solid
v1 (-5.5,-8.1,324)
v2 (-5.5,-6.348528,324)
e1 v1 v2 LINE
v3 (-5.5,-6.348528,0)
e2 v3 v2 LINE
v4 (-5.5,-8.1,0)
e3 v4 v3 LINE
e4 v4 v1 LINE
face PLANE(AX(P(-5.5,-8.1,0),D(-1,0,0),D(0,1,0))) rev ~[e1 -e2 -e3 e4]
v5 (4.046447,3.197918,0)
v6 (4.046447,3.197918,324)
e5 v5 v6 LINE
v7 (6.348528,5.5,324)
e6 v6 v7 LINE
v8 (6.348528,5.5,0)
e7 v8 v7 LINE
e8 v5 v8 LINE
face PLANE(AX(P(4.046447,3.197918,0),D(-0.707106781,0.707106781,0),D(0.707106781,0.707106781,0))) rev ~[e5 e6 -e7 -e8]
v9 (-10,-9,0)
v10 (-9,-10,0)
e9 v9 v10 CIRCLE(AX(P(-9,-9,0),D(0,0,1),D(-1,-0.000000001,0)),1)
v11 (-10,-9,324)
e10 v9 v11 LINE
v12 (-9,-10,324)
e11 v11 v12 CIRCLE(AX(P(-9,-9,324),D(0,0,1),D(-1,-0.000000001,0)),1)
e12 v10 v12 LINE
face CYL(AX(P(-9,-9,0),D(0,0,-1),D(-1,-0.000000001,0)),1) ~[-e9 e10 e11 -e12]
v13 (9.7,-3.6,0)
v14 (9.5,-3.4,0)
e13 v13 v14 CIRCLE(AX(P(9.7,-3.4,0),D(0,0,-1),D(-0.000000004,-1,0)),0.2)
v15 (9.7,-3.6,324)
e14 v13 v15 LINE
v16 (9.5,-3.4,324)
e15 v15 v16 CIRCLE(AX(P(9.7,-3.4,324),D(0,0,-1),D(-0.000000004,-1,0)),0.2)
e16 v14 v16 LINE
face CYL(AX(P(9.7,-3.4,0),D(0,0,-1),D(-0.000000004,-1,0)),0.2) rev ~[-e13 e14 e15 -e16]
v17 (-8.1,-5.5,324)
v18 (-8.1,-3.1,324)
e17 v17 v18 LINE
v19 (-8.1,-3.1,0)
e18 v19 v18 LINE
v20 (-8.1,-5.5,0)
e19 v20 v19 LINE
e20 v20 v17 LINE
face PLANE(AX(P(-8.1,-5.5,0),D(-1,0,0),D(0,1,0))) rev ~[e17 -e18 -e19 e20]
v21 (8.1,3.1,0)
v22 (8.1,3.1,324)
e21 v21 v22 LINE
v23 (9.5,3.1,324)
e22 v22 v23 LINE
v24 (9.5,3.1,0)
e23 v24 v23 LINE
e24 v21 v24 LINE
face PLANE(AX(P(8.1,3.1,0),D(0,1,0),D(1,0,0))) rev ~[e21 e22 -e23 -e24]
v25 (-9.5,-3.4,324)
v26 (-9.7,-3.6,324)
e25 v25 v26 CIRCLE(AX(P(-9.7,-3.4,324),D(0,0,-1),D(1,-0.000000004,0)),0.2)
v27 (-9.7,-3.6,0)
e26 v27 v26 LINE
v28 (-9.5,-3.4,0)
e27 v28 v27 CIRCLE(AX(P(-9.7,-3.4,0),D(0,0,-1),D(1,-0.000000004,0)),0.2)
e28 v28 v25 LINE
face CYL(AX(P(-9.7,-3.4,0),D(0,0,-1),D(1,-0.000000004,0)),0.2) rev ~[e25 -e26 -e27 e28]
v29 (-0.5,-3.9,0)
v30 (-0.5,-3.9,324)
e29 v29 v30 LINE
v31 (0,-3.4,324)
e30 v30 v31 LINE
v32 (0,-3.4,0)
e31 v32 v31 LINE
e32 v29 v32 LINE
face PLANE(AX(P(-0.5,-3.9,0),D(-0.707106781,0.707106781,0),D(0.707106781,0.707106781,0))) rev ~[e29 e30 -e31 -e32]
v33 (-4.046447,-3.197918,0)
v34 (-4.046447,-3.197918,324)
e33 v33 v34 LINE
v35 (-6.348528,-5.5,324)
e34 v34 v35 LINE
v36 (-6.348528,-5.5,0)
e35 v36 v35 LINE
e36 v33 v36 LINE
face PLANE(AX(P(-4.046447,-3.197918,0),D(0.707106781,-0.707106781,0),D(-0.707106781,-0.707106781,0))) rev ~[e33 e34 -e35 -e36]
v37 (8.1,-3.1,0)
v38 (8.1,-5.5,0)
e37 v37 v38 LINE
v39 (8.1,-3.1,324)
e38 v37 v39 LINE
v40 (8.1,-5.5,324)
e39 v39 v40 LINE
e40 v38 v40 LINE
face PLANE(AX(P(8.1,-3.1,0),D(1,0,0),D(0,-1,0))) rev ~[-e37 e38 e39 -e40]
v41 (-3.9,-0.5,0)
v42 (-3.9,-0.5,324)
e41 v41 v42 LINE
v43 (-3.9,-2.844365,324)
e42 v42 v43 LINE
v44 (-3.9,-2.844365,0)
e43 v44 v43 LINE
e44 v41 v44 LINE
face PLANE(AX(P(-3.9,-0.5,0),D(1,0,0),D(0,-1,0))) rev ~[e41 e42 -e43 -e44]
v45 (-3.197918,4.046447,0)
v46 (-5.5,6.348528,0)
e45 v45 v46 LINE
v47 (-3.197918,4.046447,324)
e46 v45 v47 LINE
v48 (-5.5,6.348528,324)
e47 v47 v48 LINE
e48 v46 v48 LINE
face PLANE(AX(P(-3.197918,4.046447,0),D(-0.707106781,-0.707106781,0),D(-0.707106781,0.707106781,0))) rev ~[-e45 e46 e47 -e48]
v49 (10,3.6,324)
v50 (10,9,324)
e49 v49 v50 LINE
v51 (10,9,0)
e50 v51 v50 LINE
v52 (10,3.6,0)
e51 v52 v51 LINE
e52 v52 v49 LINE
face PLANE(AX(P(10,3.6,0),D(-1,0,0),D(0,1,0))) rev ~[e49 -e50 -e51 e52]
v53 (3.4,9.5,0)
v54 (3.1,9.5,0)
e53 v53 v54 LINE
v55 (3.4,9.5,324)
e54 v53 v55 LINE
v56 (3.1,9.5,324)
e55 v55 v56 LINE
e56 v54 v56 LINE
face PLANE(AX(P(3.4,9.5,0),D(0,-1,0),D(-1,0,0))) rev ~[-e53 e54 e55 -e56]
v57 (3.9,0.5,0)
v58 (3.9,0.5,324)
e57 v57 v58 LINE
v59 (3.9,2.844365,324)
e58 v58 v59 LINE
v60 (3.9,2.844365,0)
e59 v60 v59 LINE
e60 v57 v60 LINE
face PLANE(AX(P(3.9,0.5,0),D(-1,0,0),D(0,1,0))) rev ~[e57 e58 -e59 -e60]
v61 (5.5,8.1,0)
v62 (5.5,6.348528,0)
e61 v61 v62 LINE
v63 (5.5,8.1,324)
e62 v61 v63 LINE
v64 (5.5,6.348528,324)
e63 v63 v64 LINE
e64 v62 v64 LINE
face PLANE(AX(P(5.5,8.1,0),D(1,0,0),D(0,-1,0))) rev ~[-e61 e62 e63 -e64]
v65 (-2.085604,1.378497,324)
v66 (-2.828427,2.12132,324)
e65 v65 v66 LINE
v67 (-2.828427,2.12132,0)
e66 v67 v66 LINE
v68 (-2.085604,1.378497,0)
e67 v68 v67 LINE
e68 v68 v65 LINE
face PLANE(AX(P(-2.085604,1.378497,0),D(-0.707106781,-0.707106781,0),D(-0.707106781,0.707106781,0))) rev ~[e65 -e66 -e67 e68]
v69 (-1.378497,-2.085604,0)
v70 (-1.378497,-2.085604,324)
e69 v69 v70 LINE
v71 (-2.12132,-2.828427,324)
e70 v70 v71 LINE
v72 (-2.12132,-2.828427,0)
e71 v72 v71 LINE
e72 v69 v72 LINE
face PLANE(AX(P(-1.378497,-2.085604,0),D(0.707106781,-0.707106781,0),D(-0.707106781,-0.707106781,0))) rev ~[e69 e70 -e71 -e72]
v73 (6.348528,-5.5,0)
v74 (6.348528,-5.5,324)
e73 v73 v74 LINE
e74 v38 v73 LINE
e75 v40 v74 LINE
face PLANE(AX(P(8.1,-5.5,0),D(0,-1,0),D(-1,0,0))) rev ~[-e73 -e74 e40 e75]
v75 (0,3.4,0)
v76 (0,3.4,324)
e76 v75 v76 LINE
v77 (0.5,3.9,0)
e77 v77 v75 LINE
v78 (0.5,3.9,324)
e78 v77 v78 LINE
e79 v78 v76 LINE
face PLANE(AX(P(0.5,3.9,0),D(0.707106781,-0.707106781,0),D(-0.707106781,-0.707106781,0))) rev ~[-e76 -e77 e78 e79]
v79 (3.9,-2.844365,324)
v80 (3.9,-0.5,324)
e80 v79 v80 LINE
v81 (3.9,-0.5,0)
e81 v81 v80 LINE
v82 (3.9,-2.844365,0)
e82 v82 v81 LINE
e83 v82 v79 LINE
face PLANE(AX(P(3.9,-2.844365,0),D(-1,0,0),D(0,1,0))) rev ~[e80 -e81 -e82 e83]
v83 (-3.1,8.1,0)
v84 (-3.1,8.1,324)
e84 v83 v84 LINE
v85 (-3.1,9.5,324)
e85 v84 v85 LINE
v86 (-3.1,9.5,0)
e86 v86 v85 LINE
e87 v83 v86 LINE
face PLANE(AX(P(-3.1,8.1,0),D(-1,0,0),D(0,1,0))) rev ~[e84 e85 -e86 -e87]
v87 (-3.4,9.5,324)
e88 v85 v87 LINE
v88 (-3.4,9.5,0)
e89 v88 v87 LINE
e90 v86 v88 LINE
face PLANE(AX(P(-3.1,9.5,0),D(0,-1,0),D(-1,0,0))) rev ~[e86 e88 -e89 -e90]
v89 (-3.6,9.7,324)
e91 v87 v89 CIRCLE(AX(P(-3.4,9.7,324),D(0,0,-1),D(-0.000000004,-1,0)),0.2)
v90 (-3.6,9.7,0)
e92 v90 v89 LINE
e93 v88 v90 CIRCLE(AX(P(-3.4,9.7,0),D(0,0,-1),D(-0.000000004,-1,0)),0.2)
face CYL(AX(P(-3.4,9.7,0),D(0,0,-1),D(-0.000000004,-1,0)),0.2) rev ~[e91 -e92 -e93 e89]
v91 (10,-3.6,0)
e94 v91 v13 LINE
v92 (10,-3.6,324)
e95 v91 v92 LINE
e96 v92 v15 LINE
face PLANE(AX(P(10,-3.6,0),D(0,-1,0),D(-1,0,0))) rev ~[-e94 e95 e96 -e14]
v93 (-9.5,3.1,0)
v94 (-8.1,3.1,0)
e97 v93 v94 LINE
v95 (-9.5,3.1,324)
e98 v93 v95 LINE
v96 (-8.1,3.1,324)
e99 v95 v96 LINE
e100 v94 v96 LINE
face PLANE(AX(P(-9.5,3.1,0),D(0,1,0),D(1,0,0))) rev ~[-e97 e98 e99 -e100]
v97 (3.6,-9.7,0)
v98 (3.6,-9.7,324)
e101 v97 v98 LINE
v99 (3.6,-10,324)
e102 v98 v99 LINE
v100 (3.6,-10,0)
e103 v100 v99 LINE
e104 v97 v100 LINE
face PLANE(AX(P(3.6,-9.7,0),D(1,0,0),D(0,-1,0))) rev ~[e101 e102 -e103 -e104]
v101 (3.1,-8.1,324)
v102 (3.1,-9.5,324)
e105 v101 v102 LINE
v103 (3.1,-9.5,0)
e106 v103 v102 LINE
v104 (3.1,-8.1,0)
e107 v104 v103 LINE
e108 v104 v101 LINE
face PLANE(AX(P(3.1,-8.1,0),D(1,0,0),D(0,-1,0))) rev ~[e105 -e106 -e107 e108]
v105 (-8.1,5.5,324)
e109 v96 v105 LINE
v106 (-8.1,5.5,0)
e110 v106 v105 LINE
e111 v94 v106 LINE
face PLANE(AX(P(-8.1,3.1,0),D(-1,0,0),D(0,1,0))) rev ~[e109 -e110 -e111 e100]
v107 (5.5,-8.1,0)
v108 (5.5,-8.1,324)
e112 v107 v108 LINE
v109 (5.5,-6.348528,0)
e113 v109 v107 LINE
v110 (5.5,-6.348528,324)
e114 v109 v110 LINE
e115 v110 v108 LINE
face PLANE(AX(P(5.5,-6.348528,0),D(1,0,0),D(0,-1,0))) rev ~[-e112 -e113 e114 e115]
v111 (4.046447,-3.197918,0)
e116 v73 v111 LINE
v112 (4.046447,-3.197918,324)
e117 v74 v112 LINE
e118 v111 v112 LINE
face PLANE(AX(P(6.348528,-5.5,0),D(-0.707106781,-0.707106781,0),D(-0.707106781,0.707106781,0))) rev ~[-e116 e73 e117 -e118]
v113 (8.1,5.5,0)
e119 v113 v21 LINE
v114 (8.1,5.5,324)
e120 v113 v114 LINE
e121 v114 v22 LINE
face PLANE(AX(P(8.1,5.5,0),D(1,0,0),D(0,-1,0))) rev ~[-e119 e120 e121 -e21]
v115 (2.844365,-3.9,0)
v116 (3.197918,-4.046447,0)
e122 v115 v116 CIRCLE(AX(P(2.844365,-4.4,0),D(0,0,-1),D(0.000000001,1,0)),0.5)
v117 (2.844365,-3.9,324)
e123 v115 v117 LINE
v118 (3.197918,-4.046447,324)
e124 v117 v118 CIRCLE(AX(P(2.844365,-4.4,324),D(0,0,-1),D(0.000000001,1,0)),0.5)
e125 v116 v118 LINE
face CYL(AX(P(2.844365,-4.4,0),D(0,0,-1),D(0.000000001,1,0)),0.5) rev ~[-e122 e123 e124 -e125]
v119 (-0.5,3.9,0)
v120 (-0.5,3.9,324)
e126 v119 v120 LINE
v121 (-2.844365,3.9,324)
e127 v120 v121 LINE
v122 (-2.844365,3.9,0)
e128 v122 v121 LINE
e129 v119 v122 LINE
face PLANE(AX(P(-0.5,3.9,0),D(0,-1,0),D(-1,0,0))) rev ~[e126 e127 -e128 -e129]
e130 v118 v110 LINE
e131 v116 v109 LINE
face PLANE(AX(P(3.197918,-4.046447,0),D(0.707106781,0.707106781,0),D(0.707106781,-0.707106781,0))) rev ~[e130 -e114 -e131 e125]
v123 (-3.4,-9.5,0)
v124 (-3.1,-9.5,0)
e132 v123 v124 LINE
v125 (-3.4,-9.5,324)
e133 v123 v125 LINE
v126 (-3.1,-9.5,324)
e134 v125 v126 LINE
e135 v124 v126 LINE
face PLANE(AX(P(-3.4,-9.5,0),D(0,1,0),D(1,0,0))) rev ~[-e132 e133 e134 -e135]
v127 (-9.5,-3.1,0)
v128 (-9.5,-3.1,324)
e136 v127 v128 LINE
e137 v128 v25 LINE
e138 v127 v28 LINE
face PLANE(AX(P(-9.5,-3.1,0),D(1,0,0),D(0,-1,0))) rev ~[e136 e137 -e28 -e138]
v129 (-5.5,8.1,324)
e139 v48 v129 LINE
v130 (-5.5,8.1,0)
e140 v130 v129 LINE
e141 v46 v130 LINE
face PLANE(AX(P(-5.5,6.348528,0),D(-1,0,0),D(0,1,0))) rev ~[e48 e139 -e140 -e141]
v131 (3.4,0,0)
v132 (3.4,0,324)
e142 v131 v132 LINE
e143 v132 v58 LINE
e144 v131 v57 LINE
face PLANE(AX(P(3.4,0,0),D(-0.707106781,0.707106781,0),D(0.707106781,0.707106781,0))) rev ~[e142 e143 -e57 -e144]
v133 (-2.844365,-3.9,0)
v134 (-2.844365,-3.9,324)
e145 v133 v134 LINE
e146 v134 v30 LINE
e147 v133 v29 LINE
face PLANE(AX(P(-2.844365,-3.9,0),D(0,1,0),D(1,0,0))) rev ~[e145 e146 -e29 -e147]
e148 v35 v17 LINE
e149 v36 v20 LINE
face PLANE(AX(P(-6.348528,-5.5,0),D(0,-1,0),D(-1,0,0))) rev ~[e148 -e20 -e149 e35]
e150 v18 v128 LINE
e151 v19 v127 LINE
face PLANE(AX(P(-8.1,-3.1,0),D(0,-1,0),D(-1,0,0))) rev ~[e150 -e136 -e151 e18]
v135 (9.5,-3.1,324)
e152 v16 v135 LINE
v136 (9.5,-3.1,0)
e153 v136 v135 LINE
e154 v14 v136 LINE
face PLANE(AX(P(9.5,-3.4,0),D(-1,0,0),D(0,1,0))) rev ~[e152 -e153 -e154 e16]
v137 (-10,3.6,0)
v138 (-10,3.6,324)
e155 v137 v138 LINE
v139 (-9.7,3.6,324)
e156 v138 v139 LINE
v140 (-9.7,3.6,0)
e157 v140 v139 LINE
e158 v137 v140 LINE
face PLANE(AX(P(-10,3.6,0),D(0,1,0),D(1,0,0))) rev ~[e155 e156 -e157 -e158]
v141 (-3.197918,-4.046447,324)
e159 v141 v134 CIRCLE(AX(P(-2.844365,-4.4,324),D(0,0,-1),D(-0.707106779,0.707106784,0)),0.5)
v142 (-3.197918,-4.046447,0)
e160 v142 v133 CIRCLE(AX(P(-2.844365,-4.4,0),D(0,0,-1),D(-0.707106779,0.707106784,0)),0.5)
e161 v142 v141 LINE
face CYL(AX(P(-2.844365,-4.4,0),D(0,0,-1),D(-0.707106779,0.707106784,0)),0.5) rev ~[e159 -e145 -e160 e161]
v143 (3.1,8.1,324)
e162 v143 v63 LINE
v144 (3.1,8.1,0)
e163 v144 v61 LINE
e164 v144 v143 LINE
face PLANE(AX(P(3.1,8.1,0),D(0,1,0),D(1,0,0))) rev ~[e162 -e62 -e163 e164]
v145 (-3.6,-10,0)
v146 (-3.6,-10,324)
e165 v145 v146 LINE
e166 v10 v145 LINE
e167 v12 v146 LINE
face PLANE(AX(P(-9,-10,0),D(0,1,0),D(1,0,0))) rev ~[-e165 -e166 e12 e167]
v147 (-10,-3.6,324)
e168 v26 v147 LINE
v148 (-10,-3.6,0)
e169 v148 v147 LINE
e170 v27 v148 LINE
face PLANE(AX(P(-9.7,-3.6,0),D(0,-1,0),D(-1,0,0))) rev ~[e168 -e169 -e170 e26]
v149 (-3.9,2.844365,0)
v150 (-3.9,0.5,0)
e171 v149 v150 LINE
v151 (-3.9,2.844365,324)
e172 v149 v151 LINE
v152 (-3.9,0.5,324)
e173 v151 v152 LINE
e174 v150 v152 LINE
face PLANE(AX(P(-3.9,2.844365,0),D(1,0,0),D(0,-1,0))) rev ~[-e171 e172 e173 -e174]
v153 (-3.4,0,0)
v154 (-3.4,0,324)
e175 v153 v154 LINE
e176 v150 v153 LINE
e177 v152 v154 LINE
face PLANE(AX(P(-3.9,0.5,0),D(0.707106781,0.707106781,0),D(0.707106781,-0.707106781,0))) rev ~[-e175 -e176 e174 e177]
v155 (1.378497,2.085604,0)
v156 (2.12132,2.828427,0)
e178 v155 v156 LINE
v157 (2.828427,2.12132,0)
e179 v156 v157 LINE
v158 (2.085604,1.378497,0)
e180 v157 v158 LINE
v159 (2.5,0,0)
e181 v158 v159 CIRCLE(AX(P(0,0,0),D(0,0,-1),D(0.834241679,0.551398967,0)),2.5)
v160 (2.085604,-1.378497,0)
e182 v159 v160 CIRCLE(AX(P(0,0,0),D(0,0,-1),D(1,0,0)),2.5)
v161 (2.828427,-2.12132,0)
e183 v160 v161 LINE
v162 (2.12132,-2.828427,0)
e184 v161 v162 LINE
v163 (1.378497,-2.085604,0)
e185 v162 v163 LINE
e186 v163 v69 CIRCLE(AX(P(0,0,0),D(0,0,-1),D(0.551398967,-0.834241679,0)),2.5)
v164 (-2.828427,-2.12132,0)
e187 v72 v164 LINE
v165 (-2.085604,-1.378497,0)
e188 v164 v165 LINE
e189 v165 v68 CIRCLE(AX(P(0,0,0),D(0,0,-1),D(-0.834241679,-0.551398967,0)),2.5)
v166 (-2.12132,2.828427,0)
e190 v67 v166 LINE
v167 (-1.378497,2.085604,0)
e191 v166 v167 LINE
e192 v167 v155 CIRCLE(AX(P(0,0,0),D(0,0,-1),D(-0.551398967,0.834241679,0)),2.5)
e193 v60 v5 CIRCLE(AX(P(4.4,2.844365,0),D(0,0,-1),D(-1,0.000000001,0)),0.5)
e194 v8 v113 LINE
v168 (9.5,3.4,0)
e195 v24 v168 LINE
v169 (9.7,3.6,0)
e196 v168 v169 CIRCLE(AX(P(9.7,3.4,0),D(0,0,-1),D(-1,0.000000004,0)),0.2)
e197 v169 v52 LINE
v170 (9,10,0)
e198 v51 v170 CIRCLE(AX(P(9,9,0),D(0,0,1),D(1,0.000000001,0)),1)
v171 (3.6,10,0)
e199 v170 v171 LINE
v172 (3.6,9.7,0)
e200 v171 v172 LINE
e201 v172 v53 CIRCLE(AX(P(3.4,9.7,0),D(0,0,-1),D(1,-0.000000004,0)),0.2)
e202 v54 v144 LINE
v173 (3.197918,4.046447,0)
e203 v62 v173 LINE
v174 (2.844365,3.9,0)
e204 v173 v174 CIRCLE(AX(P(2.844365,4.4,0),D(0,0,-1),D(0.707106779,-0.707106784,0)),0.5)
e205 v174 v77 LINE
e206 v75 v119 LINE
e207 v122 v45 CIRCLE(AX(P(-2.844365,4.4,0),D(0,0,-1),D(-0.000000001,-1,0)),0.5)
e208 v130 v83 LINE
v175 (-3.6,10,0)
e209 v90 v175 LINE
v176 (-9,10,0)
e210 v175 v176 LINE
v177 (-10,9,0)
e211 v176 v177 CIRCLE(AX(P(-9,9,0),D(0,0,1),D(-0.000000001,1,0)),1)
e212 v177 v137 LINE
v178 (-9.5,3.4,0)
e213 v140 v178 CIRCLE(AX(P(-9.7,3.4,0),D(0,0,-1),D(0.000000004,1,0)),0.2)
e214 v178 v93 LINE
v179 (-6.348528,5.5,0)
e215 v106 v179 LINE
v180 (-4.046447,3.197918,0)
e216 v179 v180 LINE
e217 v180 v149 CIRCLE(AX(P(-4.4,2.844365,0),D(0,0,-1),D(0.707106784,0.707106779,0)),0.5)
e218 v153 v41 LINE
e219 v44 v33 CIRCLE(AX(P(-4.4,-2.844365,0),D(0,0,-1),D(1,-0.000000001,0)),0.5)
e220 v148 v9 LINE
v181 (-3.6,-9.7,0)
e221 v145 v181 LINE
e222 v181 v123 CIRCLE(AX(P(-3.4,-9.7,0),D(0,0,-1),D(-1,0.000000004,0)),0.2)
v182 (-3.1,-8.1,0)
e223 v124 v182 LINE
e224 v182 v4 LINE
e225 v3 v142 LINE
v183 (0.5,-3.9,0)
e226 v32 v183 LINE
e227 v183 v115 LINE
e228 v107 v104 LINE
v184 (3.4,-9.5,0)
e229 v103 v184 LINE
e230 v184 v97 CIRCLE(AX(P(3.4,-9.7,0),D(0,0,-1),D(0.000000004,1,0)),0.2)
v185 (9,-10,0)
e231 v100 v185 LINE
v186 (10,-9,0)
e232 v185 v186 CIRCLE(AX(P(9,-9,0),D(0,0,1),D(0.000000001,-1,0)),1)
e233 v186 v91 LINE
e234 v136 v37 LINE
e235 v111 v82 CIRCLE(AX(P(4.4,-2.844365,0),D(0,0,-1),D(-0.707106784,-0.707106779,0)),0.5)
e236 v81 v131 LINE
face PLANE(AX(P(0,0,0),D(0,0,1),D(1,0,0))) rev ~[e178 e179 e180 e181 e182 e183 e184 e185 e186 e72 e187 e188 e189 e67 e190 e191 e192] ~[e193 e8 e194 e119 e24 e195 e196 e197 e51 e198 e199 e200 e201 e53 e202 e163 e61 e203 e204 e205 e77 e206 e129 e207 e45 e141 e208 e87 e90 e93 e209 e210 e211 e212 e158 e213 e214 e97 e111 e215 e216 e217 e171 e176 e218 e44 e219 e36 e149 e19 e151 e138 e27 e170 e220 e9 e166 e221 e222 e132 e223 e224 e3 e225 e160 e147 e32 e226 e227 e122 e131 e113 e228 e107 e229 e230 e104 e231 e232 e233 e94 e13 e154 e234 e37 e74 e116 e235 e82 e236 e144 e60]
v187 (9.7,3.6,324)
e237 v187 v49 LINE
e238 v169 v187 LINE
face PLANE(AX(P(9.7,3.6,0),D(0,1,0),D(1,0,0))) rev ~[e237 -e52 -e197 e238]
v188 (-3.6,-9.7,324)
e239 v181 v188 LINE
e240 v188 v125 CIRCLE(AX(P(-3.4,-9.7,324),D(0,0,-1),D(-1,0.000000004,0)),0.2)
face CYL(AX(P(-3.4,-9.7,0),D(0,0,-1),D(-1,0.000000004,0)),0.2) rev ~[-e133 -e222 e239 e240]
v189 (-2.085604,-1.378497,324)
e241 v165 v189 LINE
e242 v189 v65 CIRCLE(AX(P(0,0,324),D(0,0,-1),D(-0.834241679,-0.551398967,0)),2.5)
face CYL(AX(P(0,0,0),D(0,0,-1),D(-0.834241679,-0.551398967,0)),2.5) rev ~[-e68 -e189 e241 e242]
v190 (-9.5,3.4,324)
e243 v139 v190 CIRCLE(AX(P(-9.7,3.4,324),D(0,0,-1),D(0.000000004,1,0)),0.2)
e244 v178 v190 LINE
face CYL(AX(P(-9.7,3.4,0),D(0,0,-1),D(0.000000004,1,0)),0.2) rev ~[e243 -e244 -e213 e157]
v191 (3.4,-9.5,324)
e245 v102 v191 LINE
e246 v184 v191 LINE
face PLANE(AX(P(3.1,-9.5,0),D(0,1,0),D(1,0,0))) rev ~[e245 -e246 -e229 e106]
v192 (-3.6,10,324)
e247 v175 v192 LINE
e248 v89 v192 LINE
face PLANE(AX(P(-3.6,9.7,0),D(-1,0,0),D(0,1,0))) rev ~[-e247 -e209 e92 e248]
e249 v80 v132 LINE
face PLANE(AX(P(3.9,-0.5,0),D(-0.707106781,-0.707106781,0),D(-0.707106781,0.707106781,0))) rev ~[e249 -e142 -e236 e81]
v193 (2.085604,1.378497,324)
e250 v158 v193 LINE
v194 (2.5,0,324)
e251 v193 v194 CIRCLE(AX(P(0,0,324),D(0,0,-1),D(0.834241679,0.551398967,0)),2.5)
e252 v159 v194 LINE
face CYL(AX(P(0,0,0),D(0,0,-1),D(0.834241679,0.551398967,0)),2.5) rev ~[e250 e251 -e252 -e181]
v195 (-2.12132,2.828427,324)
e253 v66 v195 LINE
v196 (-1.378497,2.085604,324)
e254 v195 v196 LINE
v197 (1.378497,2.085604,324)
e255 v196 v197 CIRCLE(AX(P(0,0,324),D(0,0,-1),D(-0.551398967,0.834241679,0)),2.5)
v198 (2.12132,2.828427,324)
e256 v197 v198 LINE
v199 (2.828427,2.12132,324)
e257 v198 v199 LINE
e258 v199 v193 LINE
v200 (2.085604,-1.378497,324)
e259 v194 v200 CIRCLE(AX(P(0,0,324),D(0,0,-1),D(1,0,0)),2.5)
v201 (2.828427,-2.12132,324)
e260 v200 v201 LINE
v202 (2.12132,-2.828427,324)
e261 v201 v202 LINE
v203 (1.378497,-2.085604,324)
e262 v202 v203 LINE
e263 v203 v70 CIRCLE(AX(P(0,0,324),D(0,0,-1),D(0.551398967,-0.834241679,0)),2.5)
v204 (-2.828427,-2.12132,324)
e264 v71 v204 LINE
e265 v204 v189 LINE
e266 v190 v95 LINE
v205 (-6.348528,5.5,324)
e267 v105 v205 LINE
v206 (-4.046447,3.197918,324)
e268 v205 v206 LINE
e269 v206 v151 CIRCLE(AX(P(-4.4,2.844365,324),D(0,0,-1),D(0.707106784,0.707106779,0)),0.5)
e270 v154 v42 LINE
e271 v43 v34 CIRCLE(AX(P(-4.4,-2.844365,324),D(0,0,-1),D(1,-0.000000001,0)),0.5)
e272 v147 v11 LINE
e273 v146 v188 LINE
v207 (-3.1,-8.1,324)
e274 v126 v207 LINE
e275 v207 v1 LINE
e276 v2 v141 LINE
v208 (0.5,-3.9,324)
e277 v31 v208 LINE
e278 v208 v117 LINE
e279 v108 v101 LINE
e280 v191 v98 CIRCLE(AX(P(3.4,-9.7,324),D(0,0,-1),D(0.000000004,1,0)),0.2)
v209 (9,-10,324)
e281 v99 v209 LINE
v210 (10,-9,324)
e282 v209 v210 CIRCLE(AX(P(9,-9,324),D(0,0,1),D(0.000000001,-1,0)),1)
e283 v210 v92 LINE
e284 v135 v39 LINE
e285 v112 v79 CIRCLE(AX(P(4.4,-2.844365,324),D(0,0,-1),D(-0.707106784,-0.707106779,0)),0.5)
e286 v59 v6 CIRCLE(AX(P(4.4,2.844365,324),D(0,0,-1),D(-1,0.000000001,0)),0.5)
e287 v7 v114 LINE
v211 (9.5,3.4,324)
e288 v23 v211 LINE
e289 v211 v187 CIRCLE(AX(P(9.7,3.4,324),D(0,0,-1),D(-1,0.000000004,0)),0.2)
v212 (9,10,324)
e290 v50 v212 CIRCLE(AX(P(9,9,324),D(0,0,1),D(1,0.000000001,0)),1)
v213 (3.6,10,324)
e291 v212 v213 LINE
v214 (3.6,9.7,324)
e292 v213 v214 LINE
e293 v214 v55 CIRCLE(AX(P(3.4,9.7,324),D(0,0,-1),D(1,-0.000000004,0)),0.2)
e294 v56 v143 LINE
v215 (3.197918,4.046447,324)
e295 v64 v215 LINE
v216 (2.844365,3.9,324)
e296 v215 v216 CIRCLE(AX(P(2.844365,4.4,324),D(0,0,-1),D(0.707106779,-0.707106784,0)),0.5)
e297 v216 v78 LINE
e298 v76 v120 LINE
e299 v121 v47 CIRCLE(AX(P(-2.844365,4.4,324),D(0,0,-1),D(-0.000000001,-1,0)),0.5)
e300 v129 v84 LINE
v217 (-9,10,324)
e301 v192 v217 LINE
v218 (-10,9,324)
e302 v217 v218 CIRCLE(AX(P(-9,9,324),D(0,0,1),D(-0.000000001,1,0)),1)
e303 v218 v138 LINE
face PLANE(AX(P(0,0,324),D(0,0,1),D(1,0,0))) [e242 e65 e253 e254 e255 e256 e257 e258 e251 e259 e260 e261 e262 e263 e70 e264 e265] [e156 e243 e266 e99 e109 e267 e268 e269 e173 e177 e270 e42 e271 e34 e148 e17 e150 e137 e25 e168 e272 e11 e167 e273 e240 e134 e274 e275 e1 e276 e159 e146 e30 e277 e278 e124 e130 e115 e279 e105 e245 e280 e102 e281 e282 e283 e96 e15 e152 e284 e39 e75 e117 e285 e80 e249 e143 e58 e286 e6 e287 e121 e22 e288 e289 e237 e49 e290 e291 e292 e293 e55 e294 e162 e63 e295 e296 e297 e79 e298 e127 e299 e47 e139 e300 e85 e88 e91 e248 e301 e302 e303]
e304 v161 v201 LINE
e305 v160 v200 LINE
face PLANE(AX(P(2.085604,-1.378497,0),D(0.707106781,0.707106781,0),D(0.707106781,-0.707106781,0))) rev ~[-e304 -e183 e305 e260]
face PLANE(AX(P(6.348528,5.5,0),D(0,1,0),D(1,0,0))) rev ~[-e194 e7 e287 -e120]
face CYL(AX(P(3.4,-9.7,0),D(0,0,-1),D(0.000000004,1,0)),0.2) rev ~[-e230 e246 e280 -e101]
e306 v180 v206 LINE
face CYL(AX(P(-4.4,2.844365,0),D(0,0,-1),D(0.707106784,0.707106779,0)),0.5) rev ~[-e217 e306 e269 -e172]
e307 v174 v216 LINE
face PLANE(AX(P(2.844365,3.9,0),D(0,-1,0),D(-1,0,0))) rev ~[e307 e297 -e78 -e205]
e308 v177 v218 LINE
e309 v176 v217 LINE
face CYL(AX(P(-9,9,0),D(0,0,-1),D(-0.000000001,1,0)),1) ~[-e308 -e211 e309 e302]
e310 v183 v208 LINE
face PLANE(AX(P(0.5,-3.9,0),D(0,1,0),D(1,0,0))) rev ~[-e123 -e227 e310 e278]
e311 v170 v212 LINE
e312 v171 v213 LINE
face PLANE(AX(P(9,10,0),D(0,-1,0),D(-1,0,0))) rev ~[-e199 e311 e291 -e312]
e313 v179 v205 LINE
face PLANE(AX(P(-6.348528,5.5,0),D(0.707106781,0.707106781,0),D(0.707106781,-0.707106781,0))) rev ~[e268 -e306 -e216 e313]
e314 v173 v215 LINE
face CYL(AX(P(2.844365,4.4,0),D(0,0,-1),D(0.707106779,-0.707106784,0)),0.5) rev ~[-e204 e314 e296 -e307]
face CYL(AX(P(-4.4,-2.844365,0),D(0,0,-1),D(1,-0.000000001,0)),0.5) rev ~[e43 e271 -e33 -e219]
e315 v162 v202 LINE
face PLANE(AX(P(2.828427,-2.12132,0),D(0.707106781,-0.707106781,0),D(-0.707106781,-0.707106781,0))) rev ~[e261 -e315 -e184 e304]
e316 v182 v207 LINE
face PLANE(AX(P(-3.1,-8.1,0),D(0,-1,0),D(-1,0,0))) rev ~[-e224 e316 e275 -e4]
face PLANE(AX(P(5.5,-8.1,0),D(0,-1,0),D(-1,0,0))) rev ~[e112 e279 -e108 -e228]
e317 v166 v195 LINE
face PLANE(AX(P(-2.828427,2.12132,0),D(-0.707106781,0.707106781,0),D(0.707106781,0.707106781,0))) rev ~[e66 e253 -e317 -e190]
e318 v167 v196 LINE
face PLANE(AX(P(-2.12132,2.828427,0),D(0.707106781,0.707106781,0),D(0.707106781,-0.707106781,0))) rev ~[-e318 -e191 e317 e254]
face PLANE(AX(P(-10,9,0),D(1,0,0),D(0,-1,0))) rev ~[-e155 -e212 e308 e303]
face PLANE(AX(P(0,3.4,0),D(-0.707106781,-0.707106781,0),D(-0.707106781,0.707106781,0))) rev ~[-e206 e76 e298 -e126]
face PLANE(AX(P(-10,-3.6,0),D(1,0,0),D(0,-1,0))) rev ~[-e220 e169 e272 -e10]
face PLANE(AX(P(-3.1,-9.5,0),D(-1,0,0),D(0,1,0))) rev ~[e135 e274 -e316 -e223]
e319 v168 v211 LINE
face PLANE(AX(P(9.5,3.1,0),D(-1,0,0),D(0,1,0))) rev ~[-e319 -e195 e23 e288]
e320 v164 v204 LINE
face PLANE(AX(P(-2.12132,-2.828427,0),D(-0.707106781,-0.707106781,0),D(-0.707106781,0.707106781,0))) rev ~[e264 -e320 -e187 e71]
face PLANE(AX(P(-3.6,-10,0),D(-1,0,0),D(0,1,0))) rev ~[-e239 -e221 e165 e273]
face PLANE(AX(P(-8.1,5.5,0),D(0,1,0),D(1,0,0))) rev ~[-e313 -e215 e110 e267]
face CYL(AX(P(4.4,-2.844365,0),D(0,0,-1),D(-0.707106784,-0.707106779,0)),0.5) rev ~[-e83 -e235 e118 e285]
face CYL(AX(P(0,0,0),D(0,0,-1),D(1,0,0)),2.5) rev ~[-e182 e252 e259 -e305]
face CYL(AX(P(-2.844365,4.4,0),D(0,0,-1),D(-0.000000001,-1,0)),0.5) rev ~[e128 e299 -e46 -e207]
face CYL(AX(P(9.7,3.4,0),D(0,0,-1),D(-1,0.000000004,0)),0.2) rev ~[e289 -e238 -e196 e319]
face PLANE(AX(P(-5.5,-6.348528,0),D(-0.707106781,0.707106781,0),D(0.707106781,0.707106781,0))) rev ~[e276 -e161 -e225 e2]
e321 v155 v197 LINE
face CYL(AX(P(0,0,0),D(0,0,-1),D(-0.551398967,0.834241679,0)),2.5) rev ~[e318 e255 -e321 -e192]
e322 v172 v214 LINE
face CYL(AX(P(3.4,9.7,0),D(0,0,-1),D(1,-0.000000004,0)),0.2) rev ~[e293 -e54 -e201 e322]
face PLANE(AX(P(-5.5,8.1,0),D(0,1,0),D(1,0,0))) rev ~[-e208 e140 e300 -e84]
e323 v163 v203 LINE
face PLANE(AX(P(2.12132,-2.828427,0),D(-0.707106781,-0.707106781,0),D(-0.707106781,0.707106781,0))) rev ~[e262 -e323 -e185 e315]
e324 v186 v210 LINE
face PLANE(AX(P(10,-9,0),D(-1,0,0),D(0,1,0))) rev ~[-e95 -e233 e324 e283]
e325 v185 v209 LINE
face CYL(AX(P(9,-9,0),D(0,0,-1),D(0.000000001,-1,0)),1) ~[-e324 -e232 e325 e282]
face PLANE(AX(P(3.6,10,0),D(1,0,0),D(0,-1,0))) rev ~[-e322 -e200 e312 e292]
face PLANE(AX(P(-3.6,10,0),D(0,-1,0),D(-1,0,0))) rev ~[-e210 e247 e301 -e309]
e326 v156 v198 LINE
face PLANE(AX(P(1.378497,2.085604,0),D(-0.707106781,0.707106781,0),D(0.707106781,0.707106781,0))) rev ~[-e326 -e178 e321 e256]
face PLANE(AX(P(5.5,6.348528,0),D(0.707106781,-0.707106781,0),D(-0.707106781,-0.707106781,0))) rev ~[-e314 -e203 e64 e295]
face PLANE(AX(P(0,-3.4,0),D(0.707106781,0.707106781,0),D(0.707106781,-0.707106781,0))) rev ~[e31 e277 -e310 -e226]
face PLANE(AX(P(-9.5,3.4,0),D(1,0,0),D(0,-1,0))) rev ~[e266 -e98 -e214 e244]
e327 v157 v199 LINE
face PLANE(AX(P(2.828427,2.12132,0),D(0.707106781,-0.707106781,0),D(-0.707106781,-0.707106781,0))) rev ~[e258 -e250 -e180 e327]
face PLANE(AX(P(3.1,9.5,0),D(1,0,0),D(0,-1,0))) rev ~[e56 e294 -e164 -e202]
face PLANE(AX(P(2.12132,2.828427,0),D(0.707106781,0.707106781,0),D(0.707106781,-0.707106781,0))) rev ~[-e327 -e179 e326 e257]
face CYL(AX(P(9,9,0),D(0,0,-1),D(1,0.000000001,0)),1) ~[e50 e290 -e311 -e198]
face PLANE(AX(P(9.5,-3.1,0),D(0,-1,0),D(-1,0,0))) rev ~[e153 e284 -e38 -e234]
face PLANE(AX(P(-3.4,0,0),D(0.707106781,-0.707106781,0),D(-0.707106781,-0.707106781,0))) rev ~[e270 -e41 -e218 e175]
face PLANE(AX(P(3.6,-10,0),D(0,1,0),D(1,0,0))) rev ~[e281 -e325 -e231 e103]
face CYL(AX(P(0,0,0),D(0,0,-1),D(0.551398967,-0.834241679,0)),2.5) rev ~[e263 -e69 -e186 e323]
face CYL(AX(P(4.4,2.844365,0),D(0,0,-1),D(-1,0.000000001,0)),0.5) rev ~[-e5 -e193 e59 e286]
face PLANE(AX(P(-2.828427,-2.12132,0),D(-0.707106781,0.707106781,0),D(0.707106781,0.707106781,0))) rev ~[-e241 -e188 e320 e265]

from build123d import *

# Parameters (mm, degrees)
EXTRUDE1_DEPTH = 324


with BuildPart() as part:
    # Sketch1 → Extrude1 (new body)
    with BuildSketch(Plane.XY):
        with BuildLine():
            Line((0, 3.4), (-0.5, 3.9))
            Line((-0.5, 3.9), (-2.844365081, 3.9))
            ThreePointArc((-2.844365081, 3.9), (-3.035706798, 3.938060234), (-3.197918472, 4.046446609))
            Line((-3.197918472, 4.046446609), (-5.5, 6.348528137))
            Line((-5.5, 6.348528137), (-5.5, 8.1))
            Line((-5.5, 8.1), (-3.1, 8.1))
            Line((-3.1, 8.1), (-3.1, 9.5))
            Line((-3.1, 9.5), (-3.4, 9.5))
            ThreePointArc((-3.4, 9.5), (-3.541421356, 9.558578644), (-3.6, 9.7))
            Line((-3.6, 9.7), (-3.6, 10))
            Line((-3.6, 10), (-9, 10))
            ThreePointArc((-9, 10), (-9.707106781, 9.707106781), (-10, 9))
            Line((-10, 9), (-10, 3.6))
            Line((-10, 3.6), (-9.7, 3.6))
            ThreePointArc((-9.7, 3.6), (-9.558578644, 3.541421356), (-9.5, 3.4))
            Line((-9.5, 3.4), (-9.5, 3.1))
            Line((-9.5, 3.1), (-8.1, 3.1))
            Line((-8.1, 3.1), (-8.1, 5.5))
            Line((-8.1, 5.5), (-6.348528137, 5.5))
            Line((-6.348528137, 5.5), (-4.046446609, 3.197918472))
            ThreePointArc((-4.046446609, 3.197918472), (-3.938060234, 3.035706798), (-3.9, 2.844365081))
            Line((-3.9, 2.844365081), (-3.9, 0.5))
            Line((-3.9, 0.5), (-3.4, 0))
            Line((-3.4, 0), (-3.9, -0.5))
            Line((-3.9, -0.5), (-3.9, -2.844365081))
            ThreePointArc((-3.9, -2.844365081), (-3.938060234, -3.035706798), (-4.046446609, -3.197918472))
            Line((-4.046446609, -3.197918472), (-6.348528137, -5.5))
            Line((-6.348528137, -5.5), (-8.1, -5.5))
            Line((-8.1, -5.5), (-8.1, -3.1))
            Line((-8.1, -3.1), (-9.5, -3.1))
            Line((-9.5, -3.1), (-9.5, -3.4))
            ThreePointArc((-9.5, -3.4), (-9.558578644, -3.541421356), (-9.7, -3.6))
            Line((-9.7, -3.6), (-10, -3.6))
            Line((-10, -3.6), (-10, -9))
            ThreePointArc((-10, -9), (-9.707106781, -9.707106781), (-9, -10))
            Line((-9, -10), (-3.6, -10))
            Line((-3.6, -10), (-3.6, -9.7))
            ThreePointArc((-3.6, -9.7), (-3.541421356, -9.558578644), (-3.4, -9.5))
            Line((-3.4, -9.5), (-3.1, -9.5))
            Line((-3.1, -9.5), (-3.1, -8.1))
            Line((-3.1, -8.1), (-5.5, -8.1))
            Line((-5.5, -8.1), (-5.5, -6.348528137))
            Line((-5.5, -6.348528137), (-3.197918472, -4.046446609))
            ThreePointArc((-3.197918472, -4.046446609), (-3.035706798, -3.938060234), (-2.844365081, -3.9))
            Line((-2.844365081, -3.9), (-0.5, -3.9))
            Line((-0.5, -3.9), (0, -3.4))
            Line((0, -3.4), (0.5, -3.9))
            Line((0.5, -3.9), (2.844365081, -3.9))
            ThreePointArc((2.844365081, -3.9), (3.035706798, -3.938060234), (3.197918472, -4.046446609))
            Line((3.197918472, -4.046446609), (5.5, -6.348528137))
            Line((5.5, -6.348528137), (5.5, -8.1))
            Line((5.5, -8.1), (3.1, -8.1))
            Line((3.1, -8.1), (3.1, -9.5))
            Line((3.1, -9.5), (3.4, -9.5))
            ThreePointArc((3.4, -9.5), (3.541421356, -9.558578644), (3.6, -9.7))
            Line((3.6, -9.7), (3.6, -10))
            Line((3.6, -10), (9, -10))
            ThreePointArc((9, -10), (9.707106781, -9.707106781), (10, -9))
            Line((10, -9), (10, -3.6))
            Line((10, -3.6), (9.7, -3.6))
            ThreePointArc((9.7, -3.6), (9.558578644, -3.541421356), (9.5, -3.4))
            Line((9.5, -3.4), (9.5, -3.1))
            Line((9.5, -3.1), (8.1, -3.1))
            Line((8.1, -3.1), (8.1, -5.5))
            Line((8.1, -5.5), (6.348528137, -5.5))
            Line((6.348528137, -5.5), (4.046446609, -3.197918472))
            ThreePointArc((4.046446609, -3.197918472), (3.938060234, -3.035706798), (3.9, -2.844365081))
            Line((3.9, -2.844365081), (3.9, -0.5))
            Line((3.9, -0.5), (3.4, 0))
            Line((3.4, 0), (3.9, 0.5))
            Line((3.9, 0.5), (3.9, 2.844365081))
            ThreePointArc((3.9, 2.844365081), (3.938060234, 3.035706798), (4.046446609, 3.197918472))
            Line((4.046446609, 3.197918472), (6.348528137, 5.5))
            Line((6.348528137, 5.5), (8.1, 5.5))
            Line((8.1, 5.5), (8.1, 3.1))
            Line((8.1, 3.1), (9.5, 3.1))
            Line((9.5, 3.1), (9.5, 3.4))
            ThreePointArc((9.5, 3.4), (9.558578644, 3.541421356), (9.7, 3.6))
            Line((9.7, 3.6), (10, 3.6))
            Line((10, 3.6), (10, 9))
            ThreePointArc((10, 9), (9.707106781, 9.707106781), (9, 10))
            Line((9, 10), (3.6, 10))
            Line((3.6, 10), (3.6, 9.7))
            ThreePointArc((3.6, 9.7), (3.541421356, 9.558578644), (3.4, 9.5))
            Line((3.4, 9.5), (3.1, 9.5))
            Line((3.1, 9.5), (3.1, 8.1))
            Line((3.1, 8.1), (5.5, 8.1))
            Line((5.5, 8.1), (5.5, 6.348528137))
            Line((5.5, 6.348528137), (3.197918472, 4.046446609))
            ThreePointArc((3.197918472, 4.046446609), (3.035706798, 3.938060234), (2.844365081, 3.9))
            Line((2.844365081, 3.9), (0.5, 3.9))
            Line((0.5, 3.9), (0, 3.4))
        make_face()
        with BuildLine():
            ThreePointArc((2.5, 0), (2.394160656, -0.719718523), (2.085604198, -1.378497417))
            Line((2.085604198, -1.378497417), (2.828427125, -2.121320344))
            Line((2.828427125, -2.121320344), (2.121320344, -2.828427125))
            Line((2.121320344, -2.828427125), (1.378497417, -2.085604198))
            ThreePointArc((1.378497417, -2.085604198), (0, -2.5), (-1.378497417, -2.085604198))
            Line((-1.378497417, -2.085604198), (-2.121320344, -2.828427125))
            Line((-2.121320344, -2.828427125), (-2.828427125, -2.121320344))
            Line((-2.828427125, -2.121320344), (-2.085604198, -1.378497417))
            ThreePointArc((-2.085604198, -1.378497417), (-2.5, 0), (-2.085604198, 1.378497417))
            Line((-2.085604198, 1.378497417), (-2.828427125, 2.121320344))
            Line((-2.828427125, 2.121320344), (-2.121320344, 2.828427125))
            Line((-2.121320344, 2.828427125), (-1.378497417, 2.085604198))
            ThreePointArc((-1.378497417, 2.085604198), (0, 2.5), (1.378497417, 2.085604198))
            Line((1.378497417, 2.085604198), (2.121320344, 2.828427125))
            Line((2.121320344, 2.828427125), (2.828427125, 2.121320344))
            Line((2.828427125, 2.121320344), (2.085604198, 1.378497417))
            ThreePointArc((2.085604198, 1.378497417), (2.394160656, 0.719718523), (2.5, 0))
        make_face(mode=Mode.SUBTRACT)
    extrude(amount=EXTRUDE1_DEPTH)


solid = part.part
